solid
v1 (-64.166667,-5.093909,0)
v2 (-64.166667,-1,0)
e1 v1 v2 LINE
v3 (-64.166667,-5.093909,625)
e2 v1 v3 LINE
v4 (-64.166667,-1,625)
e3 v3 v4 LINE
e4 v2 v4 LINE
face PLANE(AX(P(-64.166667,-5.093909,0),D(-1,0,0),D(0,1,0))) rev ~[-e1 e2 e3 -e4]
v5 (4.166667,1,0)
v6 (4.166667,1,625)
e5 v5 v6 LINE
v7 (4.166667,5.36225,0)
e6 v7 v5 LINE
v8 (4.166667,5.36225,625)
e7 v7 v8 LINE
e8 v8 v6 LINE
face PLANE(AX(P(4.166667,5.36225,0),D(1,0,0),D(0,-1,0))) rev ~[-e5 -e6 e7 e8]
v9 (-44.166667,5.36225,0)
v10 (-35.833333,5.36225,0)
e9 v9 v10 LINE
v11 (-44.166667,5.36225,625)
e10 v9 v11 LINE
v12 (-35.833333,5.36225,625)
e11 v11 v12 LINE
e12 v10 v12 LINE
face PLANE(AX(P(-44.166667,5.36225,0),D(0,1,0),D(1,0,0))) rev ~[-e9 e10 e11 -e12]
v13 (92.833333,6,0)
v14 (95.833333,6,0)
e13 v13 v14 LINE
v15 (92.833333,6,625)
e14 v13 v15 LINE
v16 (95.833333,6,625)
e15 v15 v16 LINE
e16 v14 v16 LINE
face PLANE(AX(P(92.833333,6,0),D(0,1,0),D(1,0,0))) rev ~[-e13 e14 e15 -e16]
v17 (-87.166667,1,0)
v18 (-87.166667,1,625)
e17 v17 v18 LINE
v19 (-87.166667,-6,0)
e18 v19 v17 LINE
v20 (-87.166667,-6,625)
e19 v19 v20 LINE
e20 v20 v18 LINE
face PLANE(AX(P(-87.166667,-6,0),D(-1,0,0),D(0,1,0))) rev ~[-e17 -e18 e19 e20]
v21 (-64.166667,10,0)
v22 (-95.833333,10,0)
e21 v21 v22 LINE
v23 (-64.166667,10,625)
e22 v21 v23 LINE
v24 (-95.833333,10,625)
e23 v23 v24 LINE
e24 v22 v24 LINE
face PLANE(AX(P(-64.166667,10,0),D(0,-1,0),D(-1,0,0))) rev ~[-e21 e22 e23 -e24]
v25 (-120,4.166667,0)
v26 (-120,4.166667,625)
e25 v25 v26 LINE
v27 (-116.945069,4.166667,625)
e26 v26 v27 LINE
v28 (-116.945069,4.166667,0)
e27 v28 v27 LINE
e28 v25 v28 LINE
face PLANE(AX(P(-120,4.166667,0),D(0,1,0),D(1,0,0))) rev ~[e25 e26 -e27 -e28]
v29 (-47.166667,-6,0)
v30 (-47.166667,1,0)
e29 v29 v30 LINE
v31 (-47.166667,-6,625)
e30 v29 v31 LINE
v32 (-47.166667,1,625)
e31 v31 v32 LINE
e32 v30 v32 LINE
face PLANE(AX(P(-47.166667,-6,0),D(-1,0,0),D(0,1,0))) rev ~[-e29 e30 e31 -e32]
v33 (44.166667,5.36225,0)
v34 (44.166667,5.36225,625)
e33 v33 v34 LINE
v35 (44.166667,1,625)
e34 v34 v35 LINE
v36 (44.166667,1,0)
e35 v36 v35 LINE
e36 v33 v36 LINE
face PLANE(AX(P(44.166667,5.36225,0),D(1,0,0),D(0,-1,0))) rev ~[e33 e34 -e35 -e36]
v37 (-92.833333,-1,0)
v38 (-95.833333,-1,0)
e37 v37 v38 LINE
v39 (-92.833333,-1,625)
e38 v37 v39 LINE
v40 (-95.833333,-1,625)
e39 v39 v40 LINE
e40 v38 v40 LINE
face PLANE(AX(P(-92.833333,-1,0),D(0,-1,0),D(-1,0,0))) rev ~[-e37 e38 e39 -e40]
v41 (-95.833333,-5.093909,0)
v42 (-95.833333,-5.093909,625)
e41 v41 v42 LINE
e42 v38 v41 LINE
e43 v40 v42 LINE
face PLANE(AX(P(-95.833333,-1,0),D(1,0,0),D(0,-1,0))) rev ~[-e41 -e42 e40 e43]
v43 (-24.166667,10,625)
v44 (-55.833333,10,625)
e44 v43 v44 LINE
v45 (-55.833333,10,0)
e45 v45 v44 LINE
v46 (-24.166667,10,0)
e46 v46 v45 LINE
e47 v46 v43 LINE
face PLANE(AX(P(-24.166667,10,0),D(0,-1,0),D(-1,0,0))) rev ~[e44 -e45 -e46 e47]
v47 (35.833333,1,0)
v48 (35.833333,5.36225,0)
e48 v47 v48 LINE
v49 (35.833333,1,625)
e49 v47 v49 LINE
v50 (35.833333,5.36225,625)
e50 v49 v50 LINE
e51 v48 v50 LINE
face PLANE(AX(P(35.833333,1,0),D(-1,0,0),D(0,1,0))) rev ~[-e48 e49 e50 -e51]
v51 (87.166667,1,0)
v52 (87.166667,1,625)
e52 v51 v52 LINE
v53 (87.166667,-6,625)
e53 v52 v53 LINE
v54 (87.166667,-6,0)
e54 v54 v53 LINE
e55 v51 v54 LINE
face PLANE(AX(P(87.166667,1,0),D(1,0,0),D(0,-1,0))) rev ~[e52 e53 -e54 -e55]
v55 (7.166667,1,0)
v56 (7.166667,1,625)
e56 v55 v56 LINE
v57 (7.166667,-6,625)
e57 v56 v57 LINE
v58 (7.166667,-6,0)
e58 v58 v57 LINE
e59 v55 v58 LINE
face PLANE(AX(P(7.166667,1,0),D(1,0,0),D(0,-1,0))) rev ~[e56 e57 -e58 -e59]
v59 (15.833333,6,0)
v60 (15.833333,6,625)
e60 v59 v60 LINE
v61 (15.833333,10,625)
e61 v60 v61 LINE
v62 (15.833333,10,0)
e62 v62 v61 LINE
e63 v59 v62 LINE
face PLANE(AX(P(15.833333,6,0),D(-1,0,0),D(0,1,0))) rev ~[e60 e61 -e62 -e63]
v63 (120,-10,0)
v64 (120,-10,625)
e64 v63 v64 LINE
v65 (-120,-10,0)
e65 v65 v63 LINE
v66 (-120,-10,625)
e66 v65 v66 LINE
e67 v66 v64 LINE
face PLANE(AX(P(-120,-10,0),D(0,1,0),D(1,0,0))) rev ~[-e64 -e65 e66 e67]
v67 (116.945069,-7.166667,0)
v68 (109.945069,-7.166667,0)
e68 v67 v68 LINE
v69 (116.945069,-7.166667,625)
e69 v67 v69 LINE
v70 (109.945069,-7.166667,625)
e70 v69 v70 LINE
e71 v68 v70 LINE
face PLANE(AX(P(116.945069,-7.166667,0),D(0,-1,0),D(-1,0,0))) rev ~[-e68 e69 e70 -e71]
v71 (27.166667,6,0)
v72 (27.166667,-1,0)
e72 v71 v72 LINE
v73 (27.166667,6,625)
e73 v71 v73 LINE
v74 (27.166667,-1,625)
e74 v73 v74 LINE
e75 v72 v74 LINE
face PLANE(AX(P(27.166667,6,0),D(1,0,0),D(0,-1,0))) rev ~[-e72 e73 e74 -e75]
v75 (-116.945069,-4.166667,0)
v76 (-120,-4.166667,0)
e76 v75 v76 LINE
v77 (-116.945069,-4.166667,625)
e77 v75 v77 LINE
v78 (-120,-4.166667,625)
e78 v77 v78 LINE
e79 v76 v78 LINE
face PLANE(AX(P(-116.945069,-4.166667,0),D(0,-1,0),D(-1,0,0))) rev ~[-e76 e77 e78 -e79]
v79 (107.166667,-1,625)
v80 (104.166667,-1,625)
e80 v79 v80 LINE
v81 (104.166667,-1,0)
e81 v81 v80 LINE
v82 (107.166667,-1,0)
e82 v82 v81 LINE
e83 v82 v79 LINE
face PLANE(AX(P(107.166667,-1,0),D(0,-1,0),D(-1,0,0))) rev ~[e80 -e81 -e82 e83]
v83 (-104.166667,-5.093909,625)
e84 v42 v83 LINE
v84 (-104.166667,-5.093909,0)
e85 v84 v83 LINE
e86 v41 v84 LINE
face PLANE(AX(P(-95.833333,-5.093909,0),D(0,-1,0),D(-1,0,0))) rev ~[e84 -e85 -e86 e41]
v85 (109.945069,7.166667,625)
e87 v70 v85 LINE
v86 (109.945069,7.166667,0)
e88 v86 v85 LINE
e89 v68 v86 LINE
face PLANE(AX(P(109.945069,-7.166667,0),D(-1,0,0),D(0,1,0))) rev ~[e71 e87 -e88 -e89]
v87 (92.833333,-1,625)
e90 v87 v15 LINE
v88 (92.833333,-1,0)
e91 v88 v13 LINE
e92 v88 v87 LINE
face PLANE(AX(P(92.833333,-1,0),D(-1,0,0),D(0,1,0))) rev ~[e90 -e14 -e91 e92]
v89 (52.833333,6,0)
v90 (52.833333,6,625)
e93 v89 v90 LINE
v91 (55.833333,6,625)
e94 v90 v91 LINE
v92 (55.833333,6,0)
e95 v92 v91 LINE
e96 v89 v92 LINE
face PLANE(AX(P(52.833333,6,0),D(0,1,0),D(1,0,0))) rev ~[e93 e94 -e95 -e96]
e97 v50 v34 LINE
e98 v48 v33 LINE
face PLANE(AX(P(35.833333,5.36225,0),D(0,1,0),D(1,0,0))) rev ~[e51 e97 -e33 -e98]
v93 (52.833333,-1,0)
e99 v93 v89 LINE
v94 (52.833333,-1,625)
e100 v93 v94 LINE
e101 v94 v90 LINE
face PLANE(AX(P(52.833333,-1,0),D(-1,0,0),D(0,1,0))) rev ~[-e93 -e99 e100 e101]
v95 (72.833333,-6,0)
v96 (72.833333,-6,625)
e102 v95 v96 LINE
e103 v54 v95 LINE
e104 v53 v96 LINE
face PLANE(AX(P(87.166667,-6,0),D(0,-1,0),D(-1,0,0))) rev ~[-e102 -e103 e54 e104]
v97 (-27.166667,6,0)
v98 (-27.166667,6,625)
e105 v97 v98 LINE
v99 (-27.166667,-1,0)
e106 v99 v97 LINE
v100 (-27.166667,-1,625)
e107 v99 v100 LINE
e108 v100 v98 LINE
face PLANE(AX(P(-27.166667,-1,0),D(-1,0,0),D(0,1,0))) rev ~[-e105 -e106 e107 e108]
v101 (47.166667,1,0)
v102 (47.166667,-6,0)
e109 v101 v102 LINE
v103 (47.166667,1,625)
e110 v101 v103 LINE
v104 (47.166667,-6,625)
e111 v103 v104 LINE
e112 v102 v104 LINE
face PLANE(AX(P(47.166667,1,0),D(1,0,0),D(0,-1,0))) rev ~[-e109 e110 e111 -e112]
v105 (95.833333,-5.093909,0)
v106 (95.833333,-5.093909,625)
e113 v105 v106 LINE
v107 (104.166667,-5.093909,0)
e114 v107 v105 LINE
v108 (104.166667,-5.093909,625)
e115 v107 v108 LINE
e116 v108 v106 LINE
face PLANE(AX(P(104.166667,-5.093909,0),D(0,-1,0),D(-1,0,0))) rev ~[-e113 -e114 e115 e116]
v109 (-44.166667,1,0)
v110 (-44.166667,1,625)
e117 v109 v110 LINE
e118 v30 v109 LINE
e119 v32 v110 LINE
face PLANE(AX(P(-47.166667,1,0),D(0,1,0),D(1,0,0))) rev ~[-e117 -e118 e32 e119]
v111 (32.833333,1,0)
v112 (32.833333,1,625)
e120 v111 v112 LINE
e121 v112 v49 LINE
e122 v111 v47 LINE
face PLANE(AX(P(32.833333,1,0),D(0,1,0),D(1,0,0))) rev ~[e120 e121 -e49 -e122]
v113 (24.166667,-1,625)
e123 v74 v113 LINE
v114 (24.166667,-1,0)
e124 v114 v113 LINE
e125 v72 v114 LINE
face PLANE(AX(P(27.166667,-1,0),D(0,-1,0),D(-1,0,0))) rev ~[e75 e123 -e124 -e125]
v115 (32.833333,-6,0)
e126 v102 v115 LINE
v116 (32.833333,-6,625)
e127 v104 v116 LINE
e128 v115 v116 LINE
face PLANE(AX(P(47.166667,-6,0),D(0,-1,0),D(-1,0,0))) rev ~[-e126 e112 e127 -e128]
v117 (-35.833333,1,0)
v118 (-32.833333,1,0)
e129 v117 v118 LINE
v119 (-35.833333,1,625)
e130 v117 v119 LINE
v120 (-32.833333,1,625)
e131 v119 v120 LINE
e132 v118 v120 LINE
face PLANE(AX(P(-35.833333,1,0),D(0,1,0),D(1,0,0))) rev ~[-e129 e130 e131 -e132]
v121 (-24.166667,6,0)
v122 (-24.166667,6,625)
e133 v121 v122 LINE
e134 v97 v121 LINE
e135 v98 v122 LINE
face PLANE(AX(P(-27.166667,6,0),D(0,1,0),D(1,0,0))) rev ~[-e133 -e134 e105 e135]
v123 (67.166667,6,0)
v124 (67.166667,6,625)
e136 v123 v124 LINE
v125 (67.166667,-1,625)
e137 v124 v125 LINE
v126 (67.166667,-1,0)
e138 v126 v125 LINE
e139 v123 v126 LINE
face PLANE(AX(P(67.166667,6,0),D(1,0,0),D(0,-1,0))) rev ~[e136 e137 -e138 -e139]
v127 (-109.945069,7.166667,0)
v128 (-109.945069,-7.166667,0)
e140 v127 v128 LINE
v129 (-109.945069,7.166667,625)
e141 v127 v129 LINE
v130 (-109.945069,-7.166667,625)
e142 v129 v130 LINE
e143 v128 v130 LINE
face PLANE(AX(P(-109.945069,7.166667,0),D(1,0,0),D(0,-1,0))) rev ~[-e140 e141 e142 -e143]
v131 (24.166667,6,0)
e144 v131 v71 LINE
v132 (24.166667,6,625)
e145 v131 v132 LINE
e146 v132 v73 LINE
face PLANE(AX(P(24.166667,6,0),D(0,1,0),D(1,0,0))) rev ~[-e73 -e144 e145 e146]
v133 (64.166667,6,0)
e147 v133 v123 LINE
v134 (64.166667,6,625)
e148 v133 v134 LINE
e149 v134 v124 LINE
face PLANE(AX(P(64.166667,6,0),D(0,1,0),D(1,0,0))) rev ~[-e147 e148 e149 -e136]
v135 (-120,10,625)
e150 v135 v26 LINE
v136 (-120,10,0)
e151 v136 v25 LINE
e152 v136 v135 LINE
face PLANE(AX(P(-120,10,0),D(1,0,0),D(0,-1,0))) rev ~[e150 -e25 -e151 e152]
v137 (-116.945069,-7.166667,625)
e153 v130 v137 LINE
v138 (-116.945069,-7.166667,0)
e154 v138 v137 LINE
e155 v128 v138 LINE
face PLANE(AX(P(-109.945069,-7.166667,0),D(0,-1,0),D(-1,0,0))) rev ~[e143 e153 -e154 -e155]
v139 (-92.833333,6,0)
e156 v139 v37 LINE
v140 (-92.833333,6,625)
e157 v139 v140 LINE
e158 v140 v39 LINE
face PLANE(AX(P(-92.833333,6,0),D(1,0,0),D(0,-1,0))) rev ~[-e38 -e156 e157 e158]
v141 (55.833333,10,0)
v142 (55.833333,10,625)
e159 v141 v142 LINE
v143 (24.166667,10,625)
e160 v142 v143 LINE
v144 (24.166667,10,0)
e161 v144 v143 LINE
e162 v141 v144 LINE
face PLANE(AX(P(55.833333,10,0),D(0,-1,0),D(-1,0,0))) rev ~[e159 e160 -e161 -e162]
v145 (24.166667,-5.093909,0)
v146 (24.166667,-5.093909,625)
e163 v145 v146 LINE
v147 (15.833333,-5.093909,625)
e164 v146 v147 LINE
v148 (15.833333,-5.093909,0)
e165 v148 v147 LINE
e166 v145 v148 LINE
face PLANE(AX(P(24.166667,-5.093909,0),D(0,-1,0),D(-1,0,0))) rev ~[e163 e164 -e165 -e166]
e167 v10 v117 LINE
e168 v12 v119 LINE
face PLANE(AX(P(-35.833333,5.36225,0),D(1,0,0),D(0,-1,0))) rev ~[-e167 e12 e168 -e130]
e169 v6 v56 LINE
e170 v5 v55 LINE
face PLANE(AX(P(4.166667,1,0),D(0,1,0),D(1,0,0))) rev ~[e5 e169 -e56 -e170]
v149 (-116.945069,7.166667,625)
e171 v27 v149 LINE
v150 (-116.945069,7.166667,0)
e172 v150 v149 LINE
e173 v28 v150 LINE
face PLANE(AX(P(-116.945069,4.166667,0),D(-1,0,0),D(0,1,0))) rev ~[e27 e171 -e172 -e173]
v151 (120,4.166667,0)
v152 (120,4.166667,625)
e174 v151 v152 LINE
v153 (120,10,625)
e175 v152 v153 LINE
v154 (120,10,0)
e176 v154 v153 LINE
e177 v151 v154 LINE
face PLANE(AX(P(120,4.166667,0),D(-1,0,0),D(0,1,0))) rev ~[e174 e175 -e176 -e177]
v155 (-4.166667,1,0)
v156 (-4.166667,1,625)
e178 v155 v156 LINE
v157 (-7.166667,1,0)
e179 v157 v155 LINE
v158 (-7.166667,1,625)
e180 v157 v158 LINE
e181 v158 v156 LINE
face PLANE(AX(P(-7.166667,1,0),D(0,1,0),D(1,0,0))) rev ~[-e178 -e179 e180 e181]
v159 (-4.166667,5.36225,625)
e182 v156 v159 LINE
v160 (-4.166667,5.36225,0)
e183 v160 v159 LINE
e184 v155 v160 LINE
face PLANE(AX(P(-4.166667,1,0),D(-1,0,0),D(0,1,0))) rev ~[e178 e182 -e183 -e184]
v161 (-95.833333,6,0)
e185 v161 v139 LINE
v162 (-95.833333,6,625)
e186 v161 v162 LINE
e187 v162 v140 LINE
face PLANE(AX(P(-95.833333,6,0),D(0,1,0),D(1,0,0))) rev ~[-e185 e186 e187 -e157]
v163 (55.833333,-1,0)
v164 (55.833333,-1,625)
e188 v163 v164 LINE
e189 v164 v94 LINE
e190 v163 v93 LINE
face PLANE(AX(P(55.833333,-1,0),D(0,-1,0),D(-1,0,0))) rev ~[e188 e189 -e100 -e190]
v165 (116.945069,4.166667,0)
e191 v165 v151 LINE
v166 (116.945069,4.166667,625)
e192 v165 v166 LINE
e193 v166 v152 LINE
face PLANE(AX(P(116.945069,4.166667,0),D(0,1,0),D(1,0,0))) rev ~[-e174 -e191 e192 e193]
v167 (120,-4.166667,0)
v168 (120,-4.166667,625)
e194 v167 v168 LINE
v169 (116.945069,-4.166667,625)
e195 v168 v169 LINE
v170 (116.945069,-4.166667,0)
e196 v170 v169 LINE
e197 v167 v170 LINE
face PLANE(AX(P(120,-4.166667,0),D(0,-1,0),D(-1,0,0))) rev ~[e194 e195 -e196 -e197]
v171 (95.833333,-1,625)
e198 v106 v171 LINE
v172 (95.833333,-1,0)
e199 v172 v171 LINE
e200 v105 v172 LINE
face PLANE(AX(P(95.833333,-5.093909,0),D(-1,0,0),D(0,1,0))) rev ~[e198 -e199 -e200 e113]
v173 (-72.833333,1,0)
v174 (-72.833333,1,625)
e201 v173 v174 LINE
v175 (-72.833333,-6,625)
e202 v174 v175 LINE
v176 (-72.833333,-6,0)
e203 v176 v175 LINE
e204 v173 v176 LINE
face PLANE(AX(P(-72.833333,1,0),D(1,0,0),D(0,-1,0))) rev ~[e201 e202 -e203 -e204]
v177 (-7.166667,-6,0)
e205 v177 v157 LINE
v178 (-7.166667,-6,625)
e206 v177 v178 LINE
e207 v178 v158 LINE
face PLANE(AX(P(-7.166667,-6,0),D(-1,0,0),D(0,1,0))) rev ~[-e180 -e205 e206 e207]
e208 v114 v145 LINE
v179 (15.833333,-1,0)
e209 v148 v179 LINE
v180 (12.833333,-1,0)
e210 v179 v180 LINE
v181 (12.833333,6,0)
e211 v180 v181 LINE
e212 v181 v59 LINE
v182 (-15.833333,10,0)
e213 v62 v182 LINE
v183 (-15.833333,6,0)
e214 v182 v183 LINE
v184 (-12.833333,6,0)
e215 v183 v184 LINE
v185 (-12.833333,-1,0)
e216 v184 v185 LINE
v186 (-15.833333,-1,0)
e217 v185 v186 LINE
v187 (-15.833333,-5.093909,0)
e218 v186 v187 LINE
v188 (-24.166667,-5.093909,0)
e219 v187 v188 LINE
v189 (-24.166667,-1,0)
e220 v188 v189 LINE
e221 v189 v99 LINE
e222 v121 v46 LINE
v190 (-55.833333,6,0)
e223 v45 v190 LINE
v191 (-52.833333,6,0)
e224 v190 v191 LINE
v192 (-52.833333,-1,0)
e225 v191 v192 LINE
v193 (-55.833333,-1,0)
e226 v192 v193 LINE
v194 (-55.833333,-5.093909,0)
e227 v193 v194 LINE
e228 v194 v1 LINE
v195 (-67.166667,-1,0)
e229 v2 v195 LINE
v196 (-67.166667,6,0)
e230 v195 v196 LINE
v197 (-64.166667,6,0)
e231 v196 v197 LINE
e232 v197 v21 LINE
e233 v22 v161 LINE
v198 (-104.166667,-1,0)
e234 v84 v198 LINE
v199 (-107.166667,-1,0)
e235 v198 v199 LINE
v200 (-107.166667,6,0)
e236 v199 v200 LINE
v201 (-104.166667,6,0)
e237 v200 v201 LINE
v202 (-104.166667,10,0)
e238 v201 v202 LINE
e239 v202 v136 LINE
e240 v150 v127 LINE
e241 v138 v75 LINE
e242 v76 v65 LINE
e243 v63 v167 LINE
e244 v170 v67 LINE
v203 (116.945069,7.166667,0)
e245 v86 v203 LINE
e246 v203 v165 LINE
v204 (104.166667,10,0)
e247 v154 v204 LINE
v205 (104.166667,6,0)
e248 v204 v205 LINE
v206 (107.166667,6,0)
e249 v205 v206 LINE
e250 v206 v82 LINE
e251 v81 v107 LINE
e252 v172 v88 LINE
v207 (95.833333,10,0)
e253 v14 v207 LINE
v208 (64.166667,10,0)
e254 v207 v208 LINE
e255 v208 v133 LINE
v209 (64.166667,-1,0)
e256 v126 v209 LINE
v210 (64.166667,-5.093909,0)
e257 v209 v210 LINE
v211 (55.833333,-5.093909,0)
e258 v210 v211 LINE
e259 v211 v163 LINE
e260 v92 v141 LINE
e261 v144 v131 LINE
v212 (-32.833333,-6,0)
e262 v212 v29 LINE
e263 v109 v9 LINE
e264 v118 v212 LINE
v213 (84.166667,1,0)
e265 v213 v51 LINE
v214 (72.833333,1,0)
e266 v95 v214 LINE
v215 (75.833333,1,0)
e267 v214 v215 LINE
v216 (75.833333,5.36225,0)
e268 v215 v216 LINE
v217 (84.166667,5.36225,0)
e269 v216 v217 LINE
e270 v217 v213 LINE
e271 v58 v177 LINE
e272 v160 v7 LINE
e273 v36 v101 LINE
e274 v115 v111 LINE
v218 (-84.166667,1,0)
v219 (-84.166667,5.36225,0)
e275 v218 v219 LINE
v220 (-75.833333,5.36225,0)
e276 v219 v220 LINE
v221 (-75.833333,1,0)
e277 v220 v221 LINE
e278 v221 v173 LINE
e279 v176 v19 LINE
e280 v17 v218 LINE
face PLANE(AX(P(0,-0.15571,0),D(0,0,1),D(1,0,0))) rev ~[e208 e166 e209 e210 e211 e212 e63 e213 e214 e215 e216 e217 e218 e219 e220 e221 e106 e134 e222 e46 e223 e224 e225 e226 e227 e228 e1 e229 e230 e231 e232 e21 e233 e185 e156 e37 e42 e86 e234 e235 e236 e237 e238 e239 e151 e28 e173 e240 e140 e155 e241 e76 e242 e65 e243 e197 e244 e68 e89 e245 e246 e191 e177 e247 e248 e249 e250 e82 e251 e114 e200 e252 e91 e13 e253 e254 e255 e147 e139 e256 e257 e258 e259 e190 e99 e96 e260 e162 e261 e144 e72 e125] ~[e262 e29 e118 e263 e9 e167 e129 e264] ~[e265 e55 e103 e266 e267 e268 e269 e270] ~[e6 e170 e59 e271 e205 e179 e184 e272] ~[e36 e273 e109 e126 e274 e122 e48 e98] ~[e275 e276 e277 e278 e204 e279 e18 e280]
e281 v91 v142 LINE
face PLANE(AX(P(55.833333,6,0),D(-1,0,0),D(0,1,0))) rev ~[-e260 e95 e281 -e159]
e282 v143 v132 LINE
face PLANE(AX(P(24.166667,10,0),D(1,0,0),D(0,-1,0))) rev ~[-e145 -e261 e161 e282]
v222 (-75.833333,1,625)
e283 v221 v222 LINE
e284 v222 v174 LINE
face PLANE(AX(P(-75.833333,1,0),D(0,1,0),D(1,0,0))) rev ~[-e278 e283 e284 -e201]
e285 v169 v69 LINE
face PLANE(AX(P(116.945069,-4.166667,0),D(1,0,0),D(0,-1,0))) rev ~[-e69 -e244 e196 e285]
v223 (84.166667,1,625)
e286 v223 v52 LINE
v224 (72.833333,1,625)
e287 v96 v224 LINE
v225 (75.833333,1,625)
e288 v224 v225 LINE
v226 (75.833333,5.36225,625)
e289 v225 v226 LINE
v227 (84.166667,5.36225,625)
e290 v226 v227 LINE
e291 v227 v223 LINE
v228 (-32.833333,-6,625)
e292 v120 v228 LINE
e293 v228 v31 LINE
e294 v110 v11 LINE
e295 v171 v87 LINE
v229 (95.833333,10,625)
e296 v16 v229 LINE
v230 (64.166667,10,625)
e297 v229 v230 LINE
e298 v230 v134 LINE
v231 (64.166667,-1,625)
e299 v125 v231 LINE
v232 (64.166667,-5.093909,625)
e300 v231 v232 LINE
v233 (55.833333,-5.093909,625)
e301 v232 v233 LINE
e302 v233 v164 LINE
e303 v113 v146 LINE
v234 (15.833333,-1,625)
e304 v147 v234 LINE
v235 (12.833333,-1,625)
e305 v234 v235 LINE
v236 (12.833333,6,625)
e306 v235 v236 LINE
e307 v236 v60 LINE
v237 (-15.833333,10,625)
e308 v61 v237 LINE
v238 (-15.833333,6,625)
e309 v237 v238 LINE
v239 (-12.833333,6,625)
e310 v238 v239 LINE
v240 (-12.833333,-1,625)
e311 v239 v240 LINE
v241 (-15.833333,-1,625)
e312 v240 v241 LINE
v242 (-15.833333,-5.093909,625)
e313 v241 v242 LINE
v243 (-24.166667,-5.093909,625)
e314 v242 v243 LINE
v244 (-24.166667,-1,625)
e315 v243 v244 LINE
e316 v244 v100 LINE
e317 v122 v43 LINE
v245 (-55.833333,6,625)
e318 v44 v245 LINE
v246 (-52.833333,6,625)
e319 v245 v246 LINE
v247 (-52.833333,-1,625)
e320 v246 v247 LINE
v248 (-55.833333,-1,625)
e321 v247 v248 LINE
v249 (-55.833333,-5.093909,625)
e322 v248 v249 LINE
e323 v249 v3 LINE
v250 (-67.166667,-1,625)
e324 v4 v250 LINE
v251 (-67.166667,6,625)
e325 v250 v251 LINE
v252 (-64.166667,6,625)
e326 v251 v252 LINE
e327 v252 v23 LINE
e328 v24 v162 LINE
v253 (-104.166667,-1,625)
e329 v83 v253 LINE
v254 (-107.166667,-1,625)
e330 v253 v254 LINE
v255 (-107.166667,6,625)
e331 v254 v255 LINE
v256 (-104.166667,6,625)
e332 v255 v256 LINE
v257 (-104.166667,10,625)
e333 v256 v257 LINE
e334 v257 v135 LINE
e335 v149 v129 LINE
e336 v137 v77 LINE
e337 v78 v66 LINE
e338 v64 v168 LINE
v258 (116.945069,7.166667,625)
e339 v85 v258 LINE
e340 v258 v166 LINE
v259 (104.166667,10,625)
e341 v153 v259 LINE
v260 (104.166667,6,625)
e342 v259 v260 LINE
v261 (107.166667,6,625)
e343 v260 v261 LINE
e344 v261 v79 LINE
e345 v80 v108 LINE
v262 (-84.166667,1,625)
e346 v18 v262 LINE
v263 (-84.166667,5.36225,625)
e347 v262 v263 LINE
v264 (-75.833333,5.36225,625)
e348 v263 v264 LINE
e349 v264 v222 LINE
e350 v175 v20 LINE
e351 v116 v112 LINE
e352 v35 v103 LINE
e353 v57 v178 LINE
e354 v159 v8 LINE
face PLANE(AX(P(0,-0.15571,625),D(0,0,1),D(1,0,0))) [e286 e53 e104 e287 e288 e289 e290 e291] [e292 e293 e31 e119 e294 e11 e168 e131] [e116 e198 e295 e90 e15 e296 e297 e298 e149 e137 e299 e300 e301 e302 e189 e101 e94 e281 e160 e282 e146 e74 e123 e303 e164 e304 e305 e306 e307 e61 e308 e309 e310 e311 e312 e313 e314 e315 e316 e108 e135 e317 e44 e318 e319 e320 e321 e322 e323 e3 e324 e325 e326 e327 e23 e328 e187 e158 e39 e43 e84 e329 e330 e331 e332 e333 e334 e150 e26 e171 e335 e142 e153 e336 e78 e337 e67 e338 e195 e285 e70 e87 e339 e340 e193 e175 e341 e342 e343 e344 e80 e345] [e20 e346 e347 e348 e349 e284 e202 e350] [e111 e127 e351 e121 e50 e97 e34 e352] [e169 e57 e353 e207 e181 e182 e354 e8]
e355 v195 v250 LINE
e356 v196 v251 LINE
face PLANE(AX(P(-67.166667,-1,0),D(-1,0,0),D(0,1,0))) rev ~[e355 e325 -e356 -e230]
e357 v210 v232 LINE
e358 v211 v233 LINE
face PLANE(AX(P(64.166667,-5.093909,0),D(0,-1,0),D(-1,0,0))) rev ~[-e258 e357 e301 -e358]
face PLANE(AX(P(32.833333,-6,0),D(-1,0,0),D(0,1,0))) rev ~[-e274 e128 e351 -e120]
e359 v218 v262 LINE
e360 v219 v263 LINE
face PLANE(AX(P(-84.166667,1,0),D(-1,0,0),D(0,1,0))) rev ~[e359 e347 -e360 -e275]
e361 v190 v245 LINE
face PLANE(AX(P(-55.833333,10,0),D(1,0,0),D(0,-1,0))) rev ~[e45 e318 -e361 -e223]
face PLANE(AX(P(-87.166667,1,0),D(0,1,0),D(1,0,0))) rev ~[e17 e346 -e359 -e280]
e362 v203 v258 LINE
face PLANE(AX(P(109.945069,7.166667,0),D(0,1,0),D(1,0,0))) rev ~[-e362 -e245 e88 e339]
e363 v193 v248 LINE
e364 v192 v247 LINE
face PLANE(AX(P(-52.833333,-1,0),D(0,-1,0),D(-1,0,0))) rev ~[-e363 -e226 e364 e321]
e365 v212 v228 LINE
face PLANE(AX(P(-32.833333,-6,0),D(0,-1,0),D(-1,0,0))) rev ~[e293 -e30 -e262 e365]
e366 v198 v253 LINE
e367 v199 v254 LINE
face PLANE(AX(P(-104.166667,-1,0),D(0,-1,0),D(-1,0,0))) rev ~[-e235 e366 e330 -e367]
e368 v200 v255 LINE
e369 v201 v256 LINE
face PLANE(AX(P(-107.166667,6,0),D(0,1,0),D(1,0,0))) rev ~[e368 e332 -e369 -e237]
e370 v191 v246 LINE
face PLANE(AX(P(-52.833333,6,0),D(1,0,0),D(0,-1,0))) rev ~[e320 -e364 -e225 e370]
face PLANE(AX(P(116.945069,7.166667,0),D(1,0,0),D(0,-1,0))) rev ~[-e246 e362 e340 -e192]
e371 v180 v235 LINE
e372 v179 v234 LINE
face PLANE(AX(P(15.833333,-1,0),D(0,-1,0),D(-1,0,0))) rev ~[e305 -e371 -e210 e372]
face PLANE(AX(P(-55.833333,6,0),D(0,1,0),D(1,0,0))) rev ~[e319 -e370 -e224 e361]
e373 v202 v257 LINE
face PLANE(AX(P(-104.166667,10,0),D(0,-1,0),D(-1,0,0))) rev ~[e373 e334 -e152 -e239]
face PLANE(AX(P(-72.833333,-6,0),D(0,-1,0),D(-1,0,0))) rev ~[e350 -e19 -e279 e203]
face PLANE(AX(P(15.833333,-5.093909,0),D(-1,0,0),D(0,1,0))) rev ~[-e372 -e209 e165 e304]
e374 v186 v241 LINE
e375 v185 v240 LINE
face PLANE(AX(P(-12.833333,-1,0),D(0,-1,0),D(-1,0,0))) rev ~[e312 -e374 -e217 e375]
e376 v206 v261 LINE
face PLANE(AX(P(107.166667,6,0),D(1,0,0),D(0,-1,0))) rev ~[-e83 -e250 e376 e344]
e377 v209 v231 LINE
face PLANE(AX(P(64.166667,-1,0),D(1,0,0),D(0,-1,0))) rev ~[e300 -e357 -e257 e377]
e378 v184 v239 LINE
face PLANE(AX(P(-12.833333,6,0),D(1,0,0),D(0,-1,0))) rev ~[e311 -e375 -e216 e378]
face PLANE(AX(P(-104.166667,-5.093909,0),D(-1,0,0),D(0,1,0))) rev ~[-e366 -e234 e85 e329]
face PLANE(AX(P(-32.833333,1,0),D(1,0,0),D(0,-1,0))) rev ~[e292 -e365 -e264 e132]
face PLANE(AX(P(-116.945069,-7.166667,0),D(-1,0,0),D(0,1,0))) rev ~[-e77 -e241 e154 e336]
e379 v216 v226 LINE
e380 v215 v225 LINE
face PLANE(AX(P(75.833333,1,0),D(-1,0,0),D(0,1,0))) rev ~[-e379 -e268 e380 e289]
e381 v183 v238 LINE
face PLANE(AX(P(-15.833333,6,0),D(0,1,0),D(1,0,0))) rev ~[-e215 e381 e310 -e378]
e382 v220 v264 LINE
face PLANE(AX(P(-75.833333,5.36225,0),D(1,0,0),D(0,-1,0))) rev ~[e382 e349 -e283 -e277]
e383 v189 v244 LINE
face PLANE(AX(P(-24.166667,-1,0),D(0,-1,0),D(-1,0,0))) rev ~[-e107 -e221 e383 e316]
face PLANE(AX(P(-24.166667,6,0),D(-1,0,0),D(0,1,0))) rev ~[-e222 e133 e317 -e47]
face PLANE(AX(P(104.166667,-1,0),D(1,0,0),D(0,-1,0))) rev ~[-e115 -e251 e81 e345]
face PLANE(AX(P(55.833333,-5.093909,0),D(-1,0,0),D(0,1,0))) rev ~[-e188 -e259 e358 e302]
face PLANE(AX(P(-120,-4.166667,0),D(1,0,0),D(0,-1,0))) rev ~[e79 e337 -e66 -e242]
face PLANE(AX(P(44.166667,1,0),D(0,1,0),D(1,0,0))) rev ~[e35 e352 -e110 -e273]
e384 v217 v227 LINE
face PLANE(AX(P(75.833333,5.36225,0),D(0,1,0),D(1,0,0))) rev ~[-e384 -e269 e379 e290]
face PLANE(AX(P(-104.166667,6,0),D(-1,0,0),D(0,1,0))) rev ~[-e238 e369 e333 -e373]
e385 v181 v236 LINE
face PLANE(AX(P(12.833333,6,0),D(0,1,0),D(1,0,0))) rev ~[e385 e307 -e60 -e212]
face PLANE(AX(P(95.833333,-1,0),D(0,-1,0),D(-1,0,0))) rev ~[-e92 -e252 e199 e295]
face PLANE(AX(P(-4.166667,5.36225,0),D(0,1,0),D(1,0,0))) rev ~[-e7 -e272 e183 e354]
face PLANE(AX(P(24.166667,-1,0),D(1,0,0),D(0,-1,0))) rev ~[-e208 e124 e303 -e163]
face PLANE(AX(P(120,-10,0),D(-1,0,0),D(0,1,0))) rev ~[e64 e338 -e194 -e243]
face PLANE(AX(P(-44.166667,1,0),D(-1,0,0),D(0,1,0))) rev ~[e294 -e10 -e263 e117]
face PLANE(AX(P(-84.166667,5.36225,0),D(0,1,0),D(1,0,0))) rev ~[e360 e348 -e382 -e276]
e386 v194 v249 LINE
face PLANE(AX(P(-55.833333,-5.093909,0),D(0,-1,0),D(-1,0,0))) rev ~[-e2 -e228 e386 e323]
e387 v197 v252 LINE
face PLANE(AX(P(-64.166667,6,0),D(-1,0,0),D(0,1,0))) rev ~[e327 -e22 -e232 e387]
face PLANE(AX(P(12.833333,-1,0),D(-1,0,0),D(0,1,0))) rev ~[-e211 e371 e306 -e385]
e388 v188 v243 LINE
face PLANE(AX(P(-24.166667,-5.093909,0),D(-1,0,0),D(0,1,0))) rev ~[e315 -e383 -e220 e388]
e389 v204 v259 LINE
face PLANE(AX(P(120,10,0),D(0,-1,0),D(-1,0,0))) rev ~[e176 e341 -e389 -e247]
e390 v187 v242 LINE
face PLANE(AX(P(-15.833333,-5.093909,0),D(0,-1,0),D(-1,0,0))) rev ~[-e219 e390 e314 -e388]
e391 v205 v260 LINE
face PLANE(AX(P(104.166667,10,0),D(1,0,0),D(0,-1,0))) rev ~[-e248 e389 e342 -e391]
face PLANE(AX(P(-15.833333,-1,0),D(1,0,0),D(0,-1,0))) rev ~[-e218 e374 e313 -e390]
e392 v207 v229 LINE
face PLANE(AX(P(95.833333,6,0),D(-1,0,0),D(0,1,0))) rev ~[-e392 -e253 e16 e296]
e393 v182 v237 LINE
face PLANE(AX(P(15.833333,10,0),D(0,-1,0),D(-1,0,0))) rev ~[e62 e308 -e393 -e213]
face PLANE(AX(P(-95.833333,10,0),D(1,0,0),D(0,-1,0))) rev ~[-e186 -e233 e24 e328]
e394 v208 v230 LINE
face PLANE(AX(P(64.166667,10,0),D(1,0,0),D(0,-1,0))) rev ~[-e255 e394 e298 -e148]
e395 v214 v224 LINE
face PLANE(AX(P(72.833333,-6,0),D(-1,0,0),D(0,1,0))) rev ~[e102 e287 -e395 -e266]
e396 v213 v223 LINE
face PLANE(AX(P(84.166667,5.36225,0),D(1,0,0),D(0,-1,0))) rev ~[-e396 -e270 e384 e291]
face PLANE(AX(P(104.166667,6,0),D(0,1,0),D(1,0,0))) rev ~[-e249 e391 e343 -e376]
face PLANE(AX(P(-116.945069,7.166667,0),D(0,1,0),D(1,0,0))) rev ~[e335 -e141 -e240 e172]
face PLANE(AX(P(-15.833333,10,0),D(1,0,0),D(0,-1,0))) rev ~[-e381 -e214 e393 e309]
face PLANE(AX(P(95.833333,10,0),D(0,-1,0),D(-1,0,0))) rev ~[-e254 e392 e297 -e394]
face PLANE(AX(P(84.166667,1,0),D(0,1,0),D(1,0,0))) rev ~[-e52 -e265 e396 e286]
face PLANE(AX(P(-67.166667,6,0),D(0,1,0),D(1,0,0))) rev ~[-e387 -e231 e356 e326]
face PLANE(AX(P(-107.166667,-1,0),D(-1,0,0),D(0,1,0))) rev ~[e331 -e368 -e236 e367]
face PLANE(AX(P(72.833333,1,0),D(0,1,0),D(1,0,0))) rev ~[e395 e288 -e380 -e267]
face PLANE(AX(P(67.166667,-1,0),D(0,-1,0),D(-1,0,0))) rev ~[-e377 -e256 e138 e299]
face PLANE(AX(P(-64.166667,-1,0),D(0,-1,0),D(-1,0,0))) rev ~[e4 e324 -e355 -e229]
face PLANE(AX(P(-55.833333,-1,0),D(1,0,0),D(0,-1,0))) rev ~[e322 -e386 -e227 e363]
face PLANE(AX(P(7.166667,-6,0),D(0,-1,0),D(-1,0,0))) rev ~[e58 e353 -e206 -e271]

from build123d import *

# Parameters (mm, degrees)
BOSS_EXTRUDE1_DEPTH = 625


with BuildPart() as part:
    # Sketch1 → Boss-Extrude1 (new body)
    with BuildSketch(Plane.XY):
        Polygon((-120, 10), (-120, 4.166666667), (-116.945068586, 4.166666667), (-116.945068586, 7.166666667), (-109.945068586, 7.166666667), (-109.945068586, -7.166666667), (-116.945068586, -7.166666667), (-116.945068586, -4.166666667), (-120, -4.166666667), (-120, -10), (120, -10), (120, -4.166666667), (116.945068586, -4.166666667), (116.945068586, -7.166666667), (109.945068586, -7.166666667), (109.945068586, 7.166666667), (116.945068586, 7.166666667), (116.945068586, 4.166666667), (120, 4.166666667), (120, 10), (104.166666667, 10), (104.166666667, 6), (107.166666667, 6), (107.166666667, -1), (104.166666667, -1), (104.166666667, -5.093909387), (95.833333333, -5.093909387), (95.833333333, -1), (92.833333333, -1), (92.833333333, 6), (95.833333333, 6), (95.833333333, 10), (64.166666667, 10), (64.166666667, 6), (67.166666667, 6), (67.166666667, -1), (64.166666667, -1), (64.166666667, -5.093909387), (55.833333333, -5.093909387), (55.833333333, -1), (52.833333333, -1), (52.833333333, 6), (55.833333333, 6), (55.833333333, 10), (24.166666667, 10), (24.166666667, 6), (27.166666667, 6), (27.166666667, -1), (24.166666667, -1), (24.166666667, -5.093909387), (15.833333333, -5.093909387), (15.833333333, -1), (12.833333333, -1), (12.833333333, 6), (15.833333333, 6), (15.833333333, 10), (-15.833333333, 10), (-15.833333333, 6), (-12.833333333, 6), (-12.833333333, -1), (-15.833333333, -1), (-15.833333333, -5.093909387), (-24.166666667, -5.093909387), (-24.166666667, -1), (-27.166666667, -1), (-27.166666667, 6), (-24.166666667, 6), (-24.166666667, 10), (-55.833333333, 10), (-55.833333333, 6), (-52.833333333, 6), (-52.833333333, -1), (-55.833333333, -1), (-55.833333333, -5.093909387), (-64.166666667, -5.093909387), (-64.166666667, -1), (-67.166666667, -1), (-67.166666667, 6), (-64.166666667, 6), (-64.166666667, 10), (-95.833333333, 10), (-95.833333333, 6), (-92.833333333, 6), (-92.833333333, -1), (-95.833333333, -1), (-95.833333333, -5.093909387), (-104.166666667, -5.093909387), (-104.166666667, -1), (-107.166666667, -1), (-107.166666667, 6), (-104.166666667, 6), (-104.166666667, 10), align=None)
        Polygon((-72.833333333, -6), (-87.166666667, -6), (-87.166666667, 1), (-84.166666667, 1), (-84.166666667, 5.362249924), (-75.833333333, 5.362249924), (-75.833333333, 1), (-72.833333333, 1), align=None, mode=Mode.SUBTRACT)
        Polygon((-32.833333333, -6), (-47.166666667, -6), (-47.166666667, 1), (-44.166666667, 1), (-44.166666667, 5.362249924), (-35.833333333, 5.362249924), (-35.833333333, 1), (-32.833333333, 1), align=None, mode=Mode.SUBTRACT)
        Polygon((7.166666667, -6), (-7.166666667, -6), (-7.166666667, 1), (-4.166666667, 1), (-4.166666667, 5.362249924), (4.166666667, 5.362249924), (4.166666667, 1), (7.166666667, 1), align=None, mode=Mode.SUBTRACT)
        Polygon((47.166666667, -6), (32.833333333, -6), (32.833333333, 1), (35.833333333, 1), (35.833333333, 5.362249924), (44.166666667, 5.362249924), (44.166666667, 1), (47.166666667, 1), align=None, mode=Mode.SUBTRACT)
        Polygon((87.166666667, -6), (72.833333333, -6), (72.833333333, 1), (75.833333333, 1), (75.833333333, 5.362249924), (84.166666667, 5.362249924), (84.166666667, 1), (87.166666667, 1), align=None, mode=Mode.SUBTRACT)
    extrude(amount=BOSS_EXTRUDE1_DEPTH)


solid = part.part
